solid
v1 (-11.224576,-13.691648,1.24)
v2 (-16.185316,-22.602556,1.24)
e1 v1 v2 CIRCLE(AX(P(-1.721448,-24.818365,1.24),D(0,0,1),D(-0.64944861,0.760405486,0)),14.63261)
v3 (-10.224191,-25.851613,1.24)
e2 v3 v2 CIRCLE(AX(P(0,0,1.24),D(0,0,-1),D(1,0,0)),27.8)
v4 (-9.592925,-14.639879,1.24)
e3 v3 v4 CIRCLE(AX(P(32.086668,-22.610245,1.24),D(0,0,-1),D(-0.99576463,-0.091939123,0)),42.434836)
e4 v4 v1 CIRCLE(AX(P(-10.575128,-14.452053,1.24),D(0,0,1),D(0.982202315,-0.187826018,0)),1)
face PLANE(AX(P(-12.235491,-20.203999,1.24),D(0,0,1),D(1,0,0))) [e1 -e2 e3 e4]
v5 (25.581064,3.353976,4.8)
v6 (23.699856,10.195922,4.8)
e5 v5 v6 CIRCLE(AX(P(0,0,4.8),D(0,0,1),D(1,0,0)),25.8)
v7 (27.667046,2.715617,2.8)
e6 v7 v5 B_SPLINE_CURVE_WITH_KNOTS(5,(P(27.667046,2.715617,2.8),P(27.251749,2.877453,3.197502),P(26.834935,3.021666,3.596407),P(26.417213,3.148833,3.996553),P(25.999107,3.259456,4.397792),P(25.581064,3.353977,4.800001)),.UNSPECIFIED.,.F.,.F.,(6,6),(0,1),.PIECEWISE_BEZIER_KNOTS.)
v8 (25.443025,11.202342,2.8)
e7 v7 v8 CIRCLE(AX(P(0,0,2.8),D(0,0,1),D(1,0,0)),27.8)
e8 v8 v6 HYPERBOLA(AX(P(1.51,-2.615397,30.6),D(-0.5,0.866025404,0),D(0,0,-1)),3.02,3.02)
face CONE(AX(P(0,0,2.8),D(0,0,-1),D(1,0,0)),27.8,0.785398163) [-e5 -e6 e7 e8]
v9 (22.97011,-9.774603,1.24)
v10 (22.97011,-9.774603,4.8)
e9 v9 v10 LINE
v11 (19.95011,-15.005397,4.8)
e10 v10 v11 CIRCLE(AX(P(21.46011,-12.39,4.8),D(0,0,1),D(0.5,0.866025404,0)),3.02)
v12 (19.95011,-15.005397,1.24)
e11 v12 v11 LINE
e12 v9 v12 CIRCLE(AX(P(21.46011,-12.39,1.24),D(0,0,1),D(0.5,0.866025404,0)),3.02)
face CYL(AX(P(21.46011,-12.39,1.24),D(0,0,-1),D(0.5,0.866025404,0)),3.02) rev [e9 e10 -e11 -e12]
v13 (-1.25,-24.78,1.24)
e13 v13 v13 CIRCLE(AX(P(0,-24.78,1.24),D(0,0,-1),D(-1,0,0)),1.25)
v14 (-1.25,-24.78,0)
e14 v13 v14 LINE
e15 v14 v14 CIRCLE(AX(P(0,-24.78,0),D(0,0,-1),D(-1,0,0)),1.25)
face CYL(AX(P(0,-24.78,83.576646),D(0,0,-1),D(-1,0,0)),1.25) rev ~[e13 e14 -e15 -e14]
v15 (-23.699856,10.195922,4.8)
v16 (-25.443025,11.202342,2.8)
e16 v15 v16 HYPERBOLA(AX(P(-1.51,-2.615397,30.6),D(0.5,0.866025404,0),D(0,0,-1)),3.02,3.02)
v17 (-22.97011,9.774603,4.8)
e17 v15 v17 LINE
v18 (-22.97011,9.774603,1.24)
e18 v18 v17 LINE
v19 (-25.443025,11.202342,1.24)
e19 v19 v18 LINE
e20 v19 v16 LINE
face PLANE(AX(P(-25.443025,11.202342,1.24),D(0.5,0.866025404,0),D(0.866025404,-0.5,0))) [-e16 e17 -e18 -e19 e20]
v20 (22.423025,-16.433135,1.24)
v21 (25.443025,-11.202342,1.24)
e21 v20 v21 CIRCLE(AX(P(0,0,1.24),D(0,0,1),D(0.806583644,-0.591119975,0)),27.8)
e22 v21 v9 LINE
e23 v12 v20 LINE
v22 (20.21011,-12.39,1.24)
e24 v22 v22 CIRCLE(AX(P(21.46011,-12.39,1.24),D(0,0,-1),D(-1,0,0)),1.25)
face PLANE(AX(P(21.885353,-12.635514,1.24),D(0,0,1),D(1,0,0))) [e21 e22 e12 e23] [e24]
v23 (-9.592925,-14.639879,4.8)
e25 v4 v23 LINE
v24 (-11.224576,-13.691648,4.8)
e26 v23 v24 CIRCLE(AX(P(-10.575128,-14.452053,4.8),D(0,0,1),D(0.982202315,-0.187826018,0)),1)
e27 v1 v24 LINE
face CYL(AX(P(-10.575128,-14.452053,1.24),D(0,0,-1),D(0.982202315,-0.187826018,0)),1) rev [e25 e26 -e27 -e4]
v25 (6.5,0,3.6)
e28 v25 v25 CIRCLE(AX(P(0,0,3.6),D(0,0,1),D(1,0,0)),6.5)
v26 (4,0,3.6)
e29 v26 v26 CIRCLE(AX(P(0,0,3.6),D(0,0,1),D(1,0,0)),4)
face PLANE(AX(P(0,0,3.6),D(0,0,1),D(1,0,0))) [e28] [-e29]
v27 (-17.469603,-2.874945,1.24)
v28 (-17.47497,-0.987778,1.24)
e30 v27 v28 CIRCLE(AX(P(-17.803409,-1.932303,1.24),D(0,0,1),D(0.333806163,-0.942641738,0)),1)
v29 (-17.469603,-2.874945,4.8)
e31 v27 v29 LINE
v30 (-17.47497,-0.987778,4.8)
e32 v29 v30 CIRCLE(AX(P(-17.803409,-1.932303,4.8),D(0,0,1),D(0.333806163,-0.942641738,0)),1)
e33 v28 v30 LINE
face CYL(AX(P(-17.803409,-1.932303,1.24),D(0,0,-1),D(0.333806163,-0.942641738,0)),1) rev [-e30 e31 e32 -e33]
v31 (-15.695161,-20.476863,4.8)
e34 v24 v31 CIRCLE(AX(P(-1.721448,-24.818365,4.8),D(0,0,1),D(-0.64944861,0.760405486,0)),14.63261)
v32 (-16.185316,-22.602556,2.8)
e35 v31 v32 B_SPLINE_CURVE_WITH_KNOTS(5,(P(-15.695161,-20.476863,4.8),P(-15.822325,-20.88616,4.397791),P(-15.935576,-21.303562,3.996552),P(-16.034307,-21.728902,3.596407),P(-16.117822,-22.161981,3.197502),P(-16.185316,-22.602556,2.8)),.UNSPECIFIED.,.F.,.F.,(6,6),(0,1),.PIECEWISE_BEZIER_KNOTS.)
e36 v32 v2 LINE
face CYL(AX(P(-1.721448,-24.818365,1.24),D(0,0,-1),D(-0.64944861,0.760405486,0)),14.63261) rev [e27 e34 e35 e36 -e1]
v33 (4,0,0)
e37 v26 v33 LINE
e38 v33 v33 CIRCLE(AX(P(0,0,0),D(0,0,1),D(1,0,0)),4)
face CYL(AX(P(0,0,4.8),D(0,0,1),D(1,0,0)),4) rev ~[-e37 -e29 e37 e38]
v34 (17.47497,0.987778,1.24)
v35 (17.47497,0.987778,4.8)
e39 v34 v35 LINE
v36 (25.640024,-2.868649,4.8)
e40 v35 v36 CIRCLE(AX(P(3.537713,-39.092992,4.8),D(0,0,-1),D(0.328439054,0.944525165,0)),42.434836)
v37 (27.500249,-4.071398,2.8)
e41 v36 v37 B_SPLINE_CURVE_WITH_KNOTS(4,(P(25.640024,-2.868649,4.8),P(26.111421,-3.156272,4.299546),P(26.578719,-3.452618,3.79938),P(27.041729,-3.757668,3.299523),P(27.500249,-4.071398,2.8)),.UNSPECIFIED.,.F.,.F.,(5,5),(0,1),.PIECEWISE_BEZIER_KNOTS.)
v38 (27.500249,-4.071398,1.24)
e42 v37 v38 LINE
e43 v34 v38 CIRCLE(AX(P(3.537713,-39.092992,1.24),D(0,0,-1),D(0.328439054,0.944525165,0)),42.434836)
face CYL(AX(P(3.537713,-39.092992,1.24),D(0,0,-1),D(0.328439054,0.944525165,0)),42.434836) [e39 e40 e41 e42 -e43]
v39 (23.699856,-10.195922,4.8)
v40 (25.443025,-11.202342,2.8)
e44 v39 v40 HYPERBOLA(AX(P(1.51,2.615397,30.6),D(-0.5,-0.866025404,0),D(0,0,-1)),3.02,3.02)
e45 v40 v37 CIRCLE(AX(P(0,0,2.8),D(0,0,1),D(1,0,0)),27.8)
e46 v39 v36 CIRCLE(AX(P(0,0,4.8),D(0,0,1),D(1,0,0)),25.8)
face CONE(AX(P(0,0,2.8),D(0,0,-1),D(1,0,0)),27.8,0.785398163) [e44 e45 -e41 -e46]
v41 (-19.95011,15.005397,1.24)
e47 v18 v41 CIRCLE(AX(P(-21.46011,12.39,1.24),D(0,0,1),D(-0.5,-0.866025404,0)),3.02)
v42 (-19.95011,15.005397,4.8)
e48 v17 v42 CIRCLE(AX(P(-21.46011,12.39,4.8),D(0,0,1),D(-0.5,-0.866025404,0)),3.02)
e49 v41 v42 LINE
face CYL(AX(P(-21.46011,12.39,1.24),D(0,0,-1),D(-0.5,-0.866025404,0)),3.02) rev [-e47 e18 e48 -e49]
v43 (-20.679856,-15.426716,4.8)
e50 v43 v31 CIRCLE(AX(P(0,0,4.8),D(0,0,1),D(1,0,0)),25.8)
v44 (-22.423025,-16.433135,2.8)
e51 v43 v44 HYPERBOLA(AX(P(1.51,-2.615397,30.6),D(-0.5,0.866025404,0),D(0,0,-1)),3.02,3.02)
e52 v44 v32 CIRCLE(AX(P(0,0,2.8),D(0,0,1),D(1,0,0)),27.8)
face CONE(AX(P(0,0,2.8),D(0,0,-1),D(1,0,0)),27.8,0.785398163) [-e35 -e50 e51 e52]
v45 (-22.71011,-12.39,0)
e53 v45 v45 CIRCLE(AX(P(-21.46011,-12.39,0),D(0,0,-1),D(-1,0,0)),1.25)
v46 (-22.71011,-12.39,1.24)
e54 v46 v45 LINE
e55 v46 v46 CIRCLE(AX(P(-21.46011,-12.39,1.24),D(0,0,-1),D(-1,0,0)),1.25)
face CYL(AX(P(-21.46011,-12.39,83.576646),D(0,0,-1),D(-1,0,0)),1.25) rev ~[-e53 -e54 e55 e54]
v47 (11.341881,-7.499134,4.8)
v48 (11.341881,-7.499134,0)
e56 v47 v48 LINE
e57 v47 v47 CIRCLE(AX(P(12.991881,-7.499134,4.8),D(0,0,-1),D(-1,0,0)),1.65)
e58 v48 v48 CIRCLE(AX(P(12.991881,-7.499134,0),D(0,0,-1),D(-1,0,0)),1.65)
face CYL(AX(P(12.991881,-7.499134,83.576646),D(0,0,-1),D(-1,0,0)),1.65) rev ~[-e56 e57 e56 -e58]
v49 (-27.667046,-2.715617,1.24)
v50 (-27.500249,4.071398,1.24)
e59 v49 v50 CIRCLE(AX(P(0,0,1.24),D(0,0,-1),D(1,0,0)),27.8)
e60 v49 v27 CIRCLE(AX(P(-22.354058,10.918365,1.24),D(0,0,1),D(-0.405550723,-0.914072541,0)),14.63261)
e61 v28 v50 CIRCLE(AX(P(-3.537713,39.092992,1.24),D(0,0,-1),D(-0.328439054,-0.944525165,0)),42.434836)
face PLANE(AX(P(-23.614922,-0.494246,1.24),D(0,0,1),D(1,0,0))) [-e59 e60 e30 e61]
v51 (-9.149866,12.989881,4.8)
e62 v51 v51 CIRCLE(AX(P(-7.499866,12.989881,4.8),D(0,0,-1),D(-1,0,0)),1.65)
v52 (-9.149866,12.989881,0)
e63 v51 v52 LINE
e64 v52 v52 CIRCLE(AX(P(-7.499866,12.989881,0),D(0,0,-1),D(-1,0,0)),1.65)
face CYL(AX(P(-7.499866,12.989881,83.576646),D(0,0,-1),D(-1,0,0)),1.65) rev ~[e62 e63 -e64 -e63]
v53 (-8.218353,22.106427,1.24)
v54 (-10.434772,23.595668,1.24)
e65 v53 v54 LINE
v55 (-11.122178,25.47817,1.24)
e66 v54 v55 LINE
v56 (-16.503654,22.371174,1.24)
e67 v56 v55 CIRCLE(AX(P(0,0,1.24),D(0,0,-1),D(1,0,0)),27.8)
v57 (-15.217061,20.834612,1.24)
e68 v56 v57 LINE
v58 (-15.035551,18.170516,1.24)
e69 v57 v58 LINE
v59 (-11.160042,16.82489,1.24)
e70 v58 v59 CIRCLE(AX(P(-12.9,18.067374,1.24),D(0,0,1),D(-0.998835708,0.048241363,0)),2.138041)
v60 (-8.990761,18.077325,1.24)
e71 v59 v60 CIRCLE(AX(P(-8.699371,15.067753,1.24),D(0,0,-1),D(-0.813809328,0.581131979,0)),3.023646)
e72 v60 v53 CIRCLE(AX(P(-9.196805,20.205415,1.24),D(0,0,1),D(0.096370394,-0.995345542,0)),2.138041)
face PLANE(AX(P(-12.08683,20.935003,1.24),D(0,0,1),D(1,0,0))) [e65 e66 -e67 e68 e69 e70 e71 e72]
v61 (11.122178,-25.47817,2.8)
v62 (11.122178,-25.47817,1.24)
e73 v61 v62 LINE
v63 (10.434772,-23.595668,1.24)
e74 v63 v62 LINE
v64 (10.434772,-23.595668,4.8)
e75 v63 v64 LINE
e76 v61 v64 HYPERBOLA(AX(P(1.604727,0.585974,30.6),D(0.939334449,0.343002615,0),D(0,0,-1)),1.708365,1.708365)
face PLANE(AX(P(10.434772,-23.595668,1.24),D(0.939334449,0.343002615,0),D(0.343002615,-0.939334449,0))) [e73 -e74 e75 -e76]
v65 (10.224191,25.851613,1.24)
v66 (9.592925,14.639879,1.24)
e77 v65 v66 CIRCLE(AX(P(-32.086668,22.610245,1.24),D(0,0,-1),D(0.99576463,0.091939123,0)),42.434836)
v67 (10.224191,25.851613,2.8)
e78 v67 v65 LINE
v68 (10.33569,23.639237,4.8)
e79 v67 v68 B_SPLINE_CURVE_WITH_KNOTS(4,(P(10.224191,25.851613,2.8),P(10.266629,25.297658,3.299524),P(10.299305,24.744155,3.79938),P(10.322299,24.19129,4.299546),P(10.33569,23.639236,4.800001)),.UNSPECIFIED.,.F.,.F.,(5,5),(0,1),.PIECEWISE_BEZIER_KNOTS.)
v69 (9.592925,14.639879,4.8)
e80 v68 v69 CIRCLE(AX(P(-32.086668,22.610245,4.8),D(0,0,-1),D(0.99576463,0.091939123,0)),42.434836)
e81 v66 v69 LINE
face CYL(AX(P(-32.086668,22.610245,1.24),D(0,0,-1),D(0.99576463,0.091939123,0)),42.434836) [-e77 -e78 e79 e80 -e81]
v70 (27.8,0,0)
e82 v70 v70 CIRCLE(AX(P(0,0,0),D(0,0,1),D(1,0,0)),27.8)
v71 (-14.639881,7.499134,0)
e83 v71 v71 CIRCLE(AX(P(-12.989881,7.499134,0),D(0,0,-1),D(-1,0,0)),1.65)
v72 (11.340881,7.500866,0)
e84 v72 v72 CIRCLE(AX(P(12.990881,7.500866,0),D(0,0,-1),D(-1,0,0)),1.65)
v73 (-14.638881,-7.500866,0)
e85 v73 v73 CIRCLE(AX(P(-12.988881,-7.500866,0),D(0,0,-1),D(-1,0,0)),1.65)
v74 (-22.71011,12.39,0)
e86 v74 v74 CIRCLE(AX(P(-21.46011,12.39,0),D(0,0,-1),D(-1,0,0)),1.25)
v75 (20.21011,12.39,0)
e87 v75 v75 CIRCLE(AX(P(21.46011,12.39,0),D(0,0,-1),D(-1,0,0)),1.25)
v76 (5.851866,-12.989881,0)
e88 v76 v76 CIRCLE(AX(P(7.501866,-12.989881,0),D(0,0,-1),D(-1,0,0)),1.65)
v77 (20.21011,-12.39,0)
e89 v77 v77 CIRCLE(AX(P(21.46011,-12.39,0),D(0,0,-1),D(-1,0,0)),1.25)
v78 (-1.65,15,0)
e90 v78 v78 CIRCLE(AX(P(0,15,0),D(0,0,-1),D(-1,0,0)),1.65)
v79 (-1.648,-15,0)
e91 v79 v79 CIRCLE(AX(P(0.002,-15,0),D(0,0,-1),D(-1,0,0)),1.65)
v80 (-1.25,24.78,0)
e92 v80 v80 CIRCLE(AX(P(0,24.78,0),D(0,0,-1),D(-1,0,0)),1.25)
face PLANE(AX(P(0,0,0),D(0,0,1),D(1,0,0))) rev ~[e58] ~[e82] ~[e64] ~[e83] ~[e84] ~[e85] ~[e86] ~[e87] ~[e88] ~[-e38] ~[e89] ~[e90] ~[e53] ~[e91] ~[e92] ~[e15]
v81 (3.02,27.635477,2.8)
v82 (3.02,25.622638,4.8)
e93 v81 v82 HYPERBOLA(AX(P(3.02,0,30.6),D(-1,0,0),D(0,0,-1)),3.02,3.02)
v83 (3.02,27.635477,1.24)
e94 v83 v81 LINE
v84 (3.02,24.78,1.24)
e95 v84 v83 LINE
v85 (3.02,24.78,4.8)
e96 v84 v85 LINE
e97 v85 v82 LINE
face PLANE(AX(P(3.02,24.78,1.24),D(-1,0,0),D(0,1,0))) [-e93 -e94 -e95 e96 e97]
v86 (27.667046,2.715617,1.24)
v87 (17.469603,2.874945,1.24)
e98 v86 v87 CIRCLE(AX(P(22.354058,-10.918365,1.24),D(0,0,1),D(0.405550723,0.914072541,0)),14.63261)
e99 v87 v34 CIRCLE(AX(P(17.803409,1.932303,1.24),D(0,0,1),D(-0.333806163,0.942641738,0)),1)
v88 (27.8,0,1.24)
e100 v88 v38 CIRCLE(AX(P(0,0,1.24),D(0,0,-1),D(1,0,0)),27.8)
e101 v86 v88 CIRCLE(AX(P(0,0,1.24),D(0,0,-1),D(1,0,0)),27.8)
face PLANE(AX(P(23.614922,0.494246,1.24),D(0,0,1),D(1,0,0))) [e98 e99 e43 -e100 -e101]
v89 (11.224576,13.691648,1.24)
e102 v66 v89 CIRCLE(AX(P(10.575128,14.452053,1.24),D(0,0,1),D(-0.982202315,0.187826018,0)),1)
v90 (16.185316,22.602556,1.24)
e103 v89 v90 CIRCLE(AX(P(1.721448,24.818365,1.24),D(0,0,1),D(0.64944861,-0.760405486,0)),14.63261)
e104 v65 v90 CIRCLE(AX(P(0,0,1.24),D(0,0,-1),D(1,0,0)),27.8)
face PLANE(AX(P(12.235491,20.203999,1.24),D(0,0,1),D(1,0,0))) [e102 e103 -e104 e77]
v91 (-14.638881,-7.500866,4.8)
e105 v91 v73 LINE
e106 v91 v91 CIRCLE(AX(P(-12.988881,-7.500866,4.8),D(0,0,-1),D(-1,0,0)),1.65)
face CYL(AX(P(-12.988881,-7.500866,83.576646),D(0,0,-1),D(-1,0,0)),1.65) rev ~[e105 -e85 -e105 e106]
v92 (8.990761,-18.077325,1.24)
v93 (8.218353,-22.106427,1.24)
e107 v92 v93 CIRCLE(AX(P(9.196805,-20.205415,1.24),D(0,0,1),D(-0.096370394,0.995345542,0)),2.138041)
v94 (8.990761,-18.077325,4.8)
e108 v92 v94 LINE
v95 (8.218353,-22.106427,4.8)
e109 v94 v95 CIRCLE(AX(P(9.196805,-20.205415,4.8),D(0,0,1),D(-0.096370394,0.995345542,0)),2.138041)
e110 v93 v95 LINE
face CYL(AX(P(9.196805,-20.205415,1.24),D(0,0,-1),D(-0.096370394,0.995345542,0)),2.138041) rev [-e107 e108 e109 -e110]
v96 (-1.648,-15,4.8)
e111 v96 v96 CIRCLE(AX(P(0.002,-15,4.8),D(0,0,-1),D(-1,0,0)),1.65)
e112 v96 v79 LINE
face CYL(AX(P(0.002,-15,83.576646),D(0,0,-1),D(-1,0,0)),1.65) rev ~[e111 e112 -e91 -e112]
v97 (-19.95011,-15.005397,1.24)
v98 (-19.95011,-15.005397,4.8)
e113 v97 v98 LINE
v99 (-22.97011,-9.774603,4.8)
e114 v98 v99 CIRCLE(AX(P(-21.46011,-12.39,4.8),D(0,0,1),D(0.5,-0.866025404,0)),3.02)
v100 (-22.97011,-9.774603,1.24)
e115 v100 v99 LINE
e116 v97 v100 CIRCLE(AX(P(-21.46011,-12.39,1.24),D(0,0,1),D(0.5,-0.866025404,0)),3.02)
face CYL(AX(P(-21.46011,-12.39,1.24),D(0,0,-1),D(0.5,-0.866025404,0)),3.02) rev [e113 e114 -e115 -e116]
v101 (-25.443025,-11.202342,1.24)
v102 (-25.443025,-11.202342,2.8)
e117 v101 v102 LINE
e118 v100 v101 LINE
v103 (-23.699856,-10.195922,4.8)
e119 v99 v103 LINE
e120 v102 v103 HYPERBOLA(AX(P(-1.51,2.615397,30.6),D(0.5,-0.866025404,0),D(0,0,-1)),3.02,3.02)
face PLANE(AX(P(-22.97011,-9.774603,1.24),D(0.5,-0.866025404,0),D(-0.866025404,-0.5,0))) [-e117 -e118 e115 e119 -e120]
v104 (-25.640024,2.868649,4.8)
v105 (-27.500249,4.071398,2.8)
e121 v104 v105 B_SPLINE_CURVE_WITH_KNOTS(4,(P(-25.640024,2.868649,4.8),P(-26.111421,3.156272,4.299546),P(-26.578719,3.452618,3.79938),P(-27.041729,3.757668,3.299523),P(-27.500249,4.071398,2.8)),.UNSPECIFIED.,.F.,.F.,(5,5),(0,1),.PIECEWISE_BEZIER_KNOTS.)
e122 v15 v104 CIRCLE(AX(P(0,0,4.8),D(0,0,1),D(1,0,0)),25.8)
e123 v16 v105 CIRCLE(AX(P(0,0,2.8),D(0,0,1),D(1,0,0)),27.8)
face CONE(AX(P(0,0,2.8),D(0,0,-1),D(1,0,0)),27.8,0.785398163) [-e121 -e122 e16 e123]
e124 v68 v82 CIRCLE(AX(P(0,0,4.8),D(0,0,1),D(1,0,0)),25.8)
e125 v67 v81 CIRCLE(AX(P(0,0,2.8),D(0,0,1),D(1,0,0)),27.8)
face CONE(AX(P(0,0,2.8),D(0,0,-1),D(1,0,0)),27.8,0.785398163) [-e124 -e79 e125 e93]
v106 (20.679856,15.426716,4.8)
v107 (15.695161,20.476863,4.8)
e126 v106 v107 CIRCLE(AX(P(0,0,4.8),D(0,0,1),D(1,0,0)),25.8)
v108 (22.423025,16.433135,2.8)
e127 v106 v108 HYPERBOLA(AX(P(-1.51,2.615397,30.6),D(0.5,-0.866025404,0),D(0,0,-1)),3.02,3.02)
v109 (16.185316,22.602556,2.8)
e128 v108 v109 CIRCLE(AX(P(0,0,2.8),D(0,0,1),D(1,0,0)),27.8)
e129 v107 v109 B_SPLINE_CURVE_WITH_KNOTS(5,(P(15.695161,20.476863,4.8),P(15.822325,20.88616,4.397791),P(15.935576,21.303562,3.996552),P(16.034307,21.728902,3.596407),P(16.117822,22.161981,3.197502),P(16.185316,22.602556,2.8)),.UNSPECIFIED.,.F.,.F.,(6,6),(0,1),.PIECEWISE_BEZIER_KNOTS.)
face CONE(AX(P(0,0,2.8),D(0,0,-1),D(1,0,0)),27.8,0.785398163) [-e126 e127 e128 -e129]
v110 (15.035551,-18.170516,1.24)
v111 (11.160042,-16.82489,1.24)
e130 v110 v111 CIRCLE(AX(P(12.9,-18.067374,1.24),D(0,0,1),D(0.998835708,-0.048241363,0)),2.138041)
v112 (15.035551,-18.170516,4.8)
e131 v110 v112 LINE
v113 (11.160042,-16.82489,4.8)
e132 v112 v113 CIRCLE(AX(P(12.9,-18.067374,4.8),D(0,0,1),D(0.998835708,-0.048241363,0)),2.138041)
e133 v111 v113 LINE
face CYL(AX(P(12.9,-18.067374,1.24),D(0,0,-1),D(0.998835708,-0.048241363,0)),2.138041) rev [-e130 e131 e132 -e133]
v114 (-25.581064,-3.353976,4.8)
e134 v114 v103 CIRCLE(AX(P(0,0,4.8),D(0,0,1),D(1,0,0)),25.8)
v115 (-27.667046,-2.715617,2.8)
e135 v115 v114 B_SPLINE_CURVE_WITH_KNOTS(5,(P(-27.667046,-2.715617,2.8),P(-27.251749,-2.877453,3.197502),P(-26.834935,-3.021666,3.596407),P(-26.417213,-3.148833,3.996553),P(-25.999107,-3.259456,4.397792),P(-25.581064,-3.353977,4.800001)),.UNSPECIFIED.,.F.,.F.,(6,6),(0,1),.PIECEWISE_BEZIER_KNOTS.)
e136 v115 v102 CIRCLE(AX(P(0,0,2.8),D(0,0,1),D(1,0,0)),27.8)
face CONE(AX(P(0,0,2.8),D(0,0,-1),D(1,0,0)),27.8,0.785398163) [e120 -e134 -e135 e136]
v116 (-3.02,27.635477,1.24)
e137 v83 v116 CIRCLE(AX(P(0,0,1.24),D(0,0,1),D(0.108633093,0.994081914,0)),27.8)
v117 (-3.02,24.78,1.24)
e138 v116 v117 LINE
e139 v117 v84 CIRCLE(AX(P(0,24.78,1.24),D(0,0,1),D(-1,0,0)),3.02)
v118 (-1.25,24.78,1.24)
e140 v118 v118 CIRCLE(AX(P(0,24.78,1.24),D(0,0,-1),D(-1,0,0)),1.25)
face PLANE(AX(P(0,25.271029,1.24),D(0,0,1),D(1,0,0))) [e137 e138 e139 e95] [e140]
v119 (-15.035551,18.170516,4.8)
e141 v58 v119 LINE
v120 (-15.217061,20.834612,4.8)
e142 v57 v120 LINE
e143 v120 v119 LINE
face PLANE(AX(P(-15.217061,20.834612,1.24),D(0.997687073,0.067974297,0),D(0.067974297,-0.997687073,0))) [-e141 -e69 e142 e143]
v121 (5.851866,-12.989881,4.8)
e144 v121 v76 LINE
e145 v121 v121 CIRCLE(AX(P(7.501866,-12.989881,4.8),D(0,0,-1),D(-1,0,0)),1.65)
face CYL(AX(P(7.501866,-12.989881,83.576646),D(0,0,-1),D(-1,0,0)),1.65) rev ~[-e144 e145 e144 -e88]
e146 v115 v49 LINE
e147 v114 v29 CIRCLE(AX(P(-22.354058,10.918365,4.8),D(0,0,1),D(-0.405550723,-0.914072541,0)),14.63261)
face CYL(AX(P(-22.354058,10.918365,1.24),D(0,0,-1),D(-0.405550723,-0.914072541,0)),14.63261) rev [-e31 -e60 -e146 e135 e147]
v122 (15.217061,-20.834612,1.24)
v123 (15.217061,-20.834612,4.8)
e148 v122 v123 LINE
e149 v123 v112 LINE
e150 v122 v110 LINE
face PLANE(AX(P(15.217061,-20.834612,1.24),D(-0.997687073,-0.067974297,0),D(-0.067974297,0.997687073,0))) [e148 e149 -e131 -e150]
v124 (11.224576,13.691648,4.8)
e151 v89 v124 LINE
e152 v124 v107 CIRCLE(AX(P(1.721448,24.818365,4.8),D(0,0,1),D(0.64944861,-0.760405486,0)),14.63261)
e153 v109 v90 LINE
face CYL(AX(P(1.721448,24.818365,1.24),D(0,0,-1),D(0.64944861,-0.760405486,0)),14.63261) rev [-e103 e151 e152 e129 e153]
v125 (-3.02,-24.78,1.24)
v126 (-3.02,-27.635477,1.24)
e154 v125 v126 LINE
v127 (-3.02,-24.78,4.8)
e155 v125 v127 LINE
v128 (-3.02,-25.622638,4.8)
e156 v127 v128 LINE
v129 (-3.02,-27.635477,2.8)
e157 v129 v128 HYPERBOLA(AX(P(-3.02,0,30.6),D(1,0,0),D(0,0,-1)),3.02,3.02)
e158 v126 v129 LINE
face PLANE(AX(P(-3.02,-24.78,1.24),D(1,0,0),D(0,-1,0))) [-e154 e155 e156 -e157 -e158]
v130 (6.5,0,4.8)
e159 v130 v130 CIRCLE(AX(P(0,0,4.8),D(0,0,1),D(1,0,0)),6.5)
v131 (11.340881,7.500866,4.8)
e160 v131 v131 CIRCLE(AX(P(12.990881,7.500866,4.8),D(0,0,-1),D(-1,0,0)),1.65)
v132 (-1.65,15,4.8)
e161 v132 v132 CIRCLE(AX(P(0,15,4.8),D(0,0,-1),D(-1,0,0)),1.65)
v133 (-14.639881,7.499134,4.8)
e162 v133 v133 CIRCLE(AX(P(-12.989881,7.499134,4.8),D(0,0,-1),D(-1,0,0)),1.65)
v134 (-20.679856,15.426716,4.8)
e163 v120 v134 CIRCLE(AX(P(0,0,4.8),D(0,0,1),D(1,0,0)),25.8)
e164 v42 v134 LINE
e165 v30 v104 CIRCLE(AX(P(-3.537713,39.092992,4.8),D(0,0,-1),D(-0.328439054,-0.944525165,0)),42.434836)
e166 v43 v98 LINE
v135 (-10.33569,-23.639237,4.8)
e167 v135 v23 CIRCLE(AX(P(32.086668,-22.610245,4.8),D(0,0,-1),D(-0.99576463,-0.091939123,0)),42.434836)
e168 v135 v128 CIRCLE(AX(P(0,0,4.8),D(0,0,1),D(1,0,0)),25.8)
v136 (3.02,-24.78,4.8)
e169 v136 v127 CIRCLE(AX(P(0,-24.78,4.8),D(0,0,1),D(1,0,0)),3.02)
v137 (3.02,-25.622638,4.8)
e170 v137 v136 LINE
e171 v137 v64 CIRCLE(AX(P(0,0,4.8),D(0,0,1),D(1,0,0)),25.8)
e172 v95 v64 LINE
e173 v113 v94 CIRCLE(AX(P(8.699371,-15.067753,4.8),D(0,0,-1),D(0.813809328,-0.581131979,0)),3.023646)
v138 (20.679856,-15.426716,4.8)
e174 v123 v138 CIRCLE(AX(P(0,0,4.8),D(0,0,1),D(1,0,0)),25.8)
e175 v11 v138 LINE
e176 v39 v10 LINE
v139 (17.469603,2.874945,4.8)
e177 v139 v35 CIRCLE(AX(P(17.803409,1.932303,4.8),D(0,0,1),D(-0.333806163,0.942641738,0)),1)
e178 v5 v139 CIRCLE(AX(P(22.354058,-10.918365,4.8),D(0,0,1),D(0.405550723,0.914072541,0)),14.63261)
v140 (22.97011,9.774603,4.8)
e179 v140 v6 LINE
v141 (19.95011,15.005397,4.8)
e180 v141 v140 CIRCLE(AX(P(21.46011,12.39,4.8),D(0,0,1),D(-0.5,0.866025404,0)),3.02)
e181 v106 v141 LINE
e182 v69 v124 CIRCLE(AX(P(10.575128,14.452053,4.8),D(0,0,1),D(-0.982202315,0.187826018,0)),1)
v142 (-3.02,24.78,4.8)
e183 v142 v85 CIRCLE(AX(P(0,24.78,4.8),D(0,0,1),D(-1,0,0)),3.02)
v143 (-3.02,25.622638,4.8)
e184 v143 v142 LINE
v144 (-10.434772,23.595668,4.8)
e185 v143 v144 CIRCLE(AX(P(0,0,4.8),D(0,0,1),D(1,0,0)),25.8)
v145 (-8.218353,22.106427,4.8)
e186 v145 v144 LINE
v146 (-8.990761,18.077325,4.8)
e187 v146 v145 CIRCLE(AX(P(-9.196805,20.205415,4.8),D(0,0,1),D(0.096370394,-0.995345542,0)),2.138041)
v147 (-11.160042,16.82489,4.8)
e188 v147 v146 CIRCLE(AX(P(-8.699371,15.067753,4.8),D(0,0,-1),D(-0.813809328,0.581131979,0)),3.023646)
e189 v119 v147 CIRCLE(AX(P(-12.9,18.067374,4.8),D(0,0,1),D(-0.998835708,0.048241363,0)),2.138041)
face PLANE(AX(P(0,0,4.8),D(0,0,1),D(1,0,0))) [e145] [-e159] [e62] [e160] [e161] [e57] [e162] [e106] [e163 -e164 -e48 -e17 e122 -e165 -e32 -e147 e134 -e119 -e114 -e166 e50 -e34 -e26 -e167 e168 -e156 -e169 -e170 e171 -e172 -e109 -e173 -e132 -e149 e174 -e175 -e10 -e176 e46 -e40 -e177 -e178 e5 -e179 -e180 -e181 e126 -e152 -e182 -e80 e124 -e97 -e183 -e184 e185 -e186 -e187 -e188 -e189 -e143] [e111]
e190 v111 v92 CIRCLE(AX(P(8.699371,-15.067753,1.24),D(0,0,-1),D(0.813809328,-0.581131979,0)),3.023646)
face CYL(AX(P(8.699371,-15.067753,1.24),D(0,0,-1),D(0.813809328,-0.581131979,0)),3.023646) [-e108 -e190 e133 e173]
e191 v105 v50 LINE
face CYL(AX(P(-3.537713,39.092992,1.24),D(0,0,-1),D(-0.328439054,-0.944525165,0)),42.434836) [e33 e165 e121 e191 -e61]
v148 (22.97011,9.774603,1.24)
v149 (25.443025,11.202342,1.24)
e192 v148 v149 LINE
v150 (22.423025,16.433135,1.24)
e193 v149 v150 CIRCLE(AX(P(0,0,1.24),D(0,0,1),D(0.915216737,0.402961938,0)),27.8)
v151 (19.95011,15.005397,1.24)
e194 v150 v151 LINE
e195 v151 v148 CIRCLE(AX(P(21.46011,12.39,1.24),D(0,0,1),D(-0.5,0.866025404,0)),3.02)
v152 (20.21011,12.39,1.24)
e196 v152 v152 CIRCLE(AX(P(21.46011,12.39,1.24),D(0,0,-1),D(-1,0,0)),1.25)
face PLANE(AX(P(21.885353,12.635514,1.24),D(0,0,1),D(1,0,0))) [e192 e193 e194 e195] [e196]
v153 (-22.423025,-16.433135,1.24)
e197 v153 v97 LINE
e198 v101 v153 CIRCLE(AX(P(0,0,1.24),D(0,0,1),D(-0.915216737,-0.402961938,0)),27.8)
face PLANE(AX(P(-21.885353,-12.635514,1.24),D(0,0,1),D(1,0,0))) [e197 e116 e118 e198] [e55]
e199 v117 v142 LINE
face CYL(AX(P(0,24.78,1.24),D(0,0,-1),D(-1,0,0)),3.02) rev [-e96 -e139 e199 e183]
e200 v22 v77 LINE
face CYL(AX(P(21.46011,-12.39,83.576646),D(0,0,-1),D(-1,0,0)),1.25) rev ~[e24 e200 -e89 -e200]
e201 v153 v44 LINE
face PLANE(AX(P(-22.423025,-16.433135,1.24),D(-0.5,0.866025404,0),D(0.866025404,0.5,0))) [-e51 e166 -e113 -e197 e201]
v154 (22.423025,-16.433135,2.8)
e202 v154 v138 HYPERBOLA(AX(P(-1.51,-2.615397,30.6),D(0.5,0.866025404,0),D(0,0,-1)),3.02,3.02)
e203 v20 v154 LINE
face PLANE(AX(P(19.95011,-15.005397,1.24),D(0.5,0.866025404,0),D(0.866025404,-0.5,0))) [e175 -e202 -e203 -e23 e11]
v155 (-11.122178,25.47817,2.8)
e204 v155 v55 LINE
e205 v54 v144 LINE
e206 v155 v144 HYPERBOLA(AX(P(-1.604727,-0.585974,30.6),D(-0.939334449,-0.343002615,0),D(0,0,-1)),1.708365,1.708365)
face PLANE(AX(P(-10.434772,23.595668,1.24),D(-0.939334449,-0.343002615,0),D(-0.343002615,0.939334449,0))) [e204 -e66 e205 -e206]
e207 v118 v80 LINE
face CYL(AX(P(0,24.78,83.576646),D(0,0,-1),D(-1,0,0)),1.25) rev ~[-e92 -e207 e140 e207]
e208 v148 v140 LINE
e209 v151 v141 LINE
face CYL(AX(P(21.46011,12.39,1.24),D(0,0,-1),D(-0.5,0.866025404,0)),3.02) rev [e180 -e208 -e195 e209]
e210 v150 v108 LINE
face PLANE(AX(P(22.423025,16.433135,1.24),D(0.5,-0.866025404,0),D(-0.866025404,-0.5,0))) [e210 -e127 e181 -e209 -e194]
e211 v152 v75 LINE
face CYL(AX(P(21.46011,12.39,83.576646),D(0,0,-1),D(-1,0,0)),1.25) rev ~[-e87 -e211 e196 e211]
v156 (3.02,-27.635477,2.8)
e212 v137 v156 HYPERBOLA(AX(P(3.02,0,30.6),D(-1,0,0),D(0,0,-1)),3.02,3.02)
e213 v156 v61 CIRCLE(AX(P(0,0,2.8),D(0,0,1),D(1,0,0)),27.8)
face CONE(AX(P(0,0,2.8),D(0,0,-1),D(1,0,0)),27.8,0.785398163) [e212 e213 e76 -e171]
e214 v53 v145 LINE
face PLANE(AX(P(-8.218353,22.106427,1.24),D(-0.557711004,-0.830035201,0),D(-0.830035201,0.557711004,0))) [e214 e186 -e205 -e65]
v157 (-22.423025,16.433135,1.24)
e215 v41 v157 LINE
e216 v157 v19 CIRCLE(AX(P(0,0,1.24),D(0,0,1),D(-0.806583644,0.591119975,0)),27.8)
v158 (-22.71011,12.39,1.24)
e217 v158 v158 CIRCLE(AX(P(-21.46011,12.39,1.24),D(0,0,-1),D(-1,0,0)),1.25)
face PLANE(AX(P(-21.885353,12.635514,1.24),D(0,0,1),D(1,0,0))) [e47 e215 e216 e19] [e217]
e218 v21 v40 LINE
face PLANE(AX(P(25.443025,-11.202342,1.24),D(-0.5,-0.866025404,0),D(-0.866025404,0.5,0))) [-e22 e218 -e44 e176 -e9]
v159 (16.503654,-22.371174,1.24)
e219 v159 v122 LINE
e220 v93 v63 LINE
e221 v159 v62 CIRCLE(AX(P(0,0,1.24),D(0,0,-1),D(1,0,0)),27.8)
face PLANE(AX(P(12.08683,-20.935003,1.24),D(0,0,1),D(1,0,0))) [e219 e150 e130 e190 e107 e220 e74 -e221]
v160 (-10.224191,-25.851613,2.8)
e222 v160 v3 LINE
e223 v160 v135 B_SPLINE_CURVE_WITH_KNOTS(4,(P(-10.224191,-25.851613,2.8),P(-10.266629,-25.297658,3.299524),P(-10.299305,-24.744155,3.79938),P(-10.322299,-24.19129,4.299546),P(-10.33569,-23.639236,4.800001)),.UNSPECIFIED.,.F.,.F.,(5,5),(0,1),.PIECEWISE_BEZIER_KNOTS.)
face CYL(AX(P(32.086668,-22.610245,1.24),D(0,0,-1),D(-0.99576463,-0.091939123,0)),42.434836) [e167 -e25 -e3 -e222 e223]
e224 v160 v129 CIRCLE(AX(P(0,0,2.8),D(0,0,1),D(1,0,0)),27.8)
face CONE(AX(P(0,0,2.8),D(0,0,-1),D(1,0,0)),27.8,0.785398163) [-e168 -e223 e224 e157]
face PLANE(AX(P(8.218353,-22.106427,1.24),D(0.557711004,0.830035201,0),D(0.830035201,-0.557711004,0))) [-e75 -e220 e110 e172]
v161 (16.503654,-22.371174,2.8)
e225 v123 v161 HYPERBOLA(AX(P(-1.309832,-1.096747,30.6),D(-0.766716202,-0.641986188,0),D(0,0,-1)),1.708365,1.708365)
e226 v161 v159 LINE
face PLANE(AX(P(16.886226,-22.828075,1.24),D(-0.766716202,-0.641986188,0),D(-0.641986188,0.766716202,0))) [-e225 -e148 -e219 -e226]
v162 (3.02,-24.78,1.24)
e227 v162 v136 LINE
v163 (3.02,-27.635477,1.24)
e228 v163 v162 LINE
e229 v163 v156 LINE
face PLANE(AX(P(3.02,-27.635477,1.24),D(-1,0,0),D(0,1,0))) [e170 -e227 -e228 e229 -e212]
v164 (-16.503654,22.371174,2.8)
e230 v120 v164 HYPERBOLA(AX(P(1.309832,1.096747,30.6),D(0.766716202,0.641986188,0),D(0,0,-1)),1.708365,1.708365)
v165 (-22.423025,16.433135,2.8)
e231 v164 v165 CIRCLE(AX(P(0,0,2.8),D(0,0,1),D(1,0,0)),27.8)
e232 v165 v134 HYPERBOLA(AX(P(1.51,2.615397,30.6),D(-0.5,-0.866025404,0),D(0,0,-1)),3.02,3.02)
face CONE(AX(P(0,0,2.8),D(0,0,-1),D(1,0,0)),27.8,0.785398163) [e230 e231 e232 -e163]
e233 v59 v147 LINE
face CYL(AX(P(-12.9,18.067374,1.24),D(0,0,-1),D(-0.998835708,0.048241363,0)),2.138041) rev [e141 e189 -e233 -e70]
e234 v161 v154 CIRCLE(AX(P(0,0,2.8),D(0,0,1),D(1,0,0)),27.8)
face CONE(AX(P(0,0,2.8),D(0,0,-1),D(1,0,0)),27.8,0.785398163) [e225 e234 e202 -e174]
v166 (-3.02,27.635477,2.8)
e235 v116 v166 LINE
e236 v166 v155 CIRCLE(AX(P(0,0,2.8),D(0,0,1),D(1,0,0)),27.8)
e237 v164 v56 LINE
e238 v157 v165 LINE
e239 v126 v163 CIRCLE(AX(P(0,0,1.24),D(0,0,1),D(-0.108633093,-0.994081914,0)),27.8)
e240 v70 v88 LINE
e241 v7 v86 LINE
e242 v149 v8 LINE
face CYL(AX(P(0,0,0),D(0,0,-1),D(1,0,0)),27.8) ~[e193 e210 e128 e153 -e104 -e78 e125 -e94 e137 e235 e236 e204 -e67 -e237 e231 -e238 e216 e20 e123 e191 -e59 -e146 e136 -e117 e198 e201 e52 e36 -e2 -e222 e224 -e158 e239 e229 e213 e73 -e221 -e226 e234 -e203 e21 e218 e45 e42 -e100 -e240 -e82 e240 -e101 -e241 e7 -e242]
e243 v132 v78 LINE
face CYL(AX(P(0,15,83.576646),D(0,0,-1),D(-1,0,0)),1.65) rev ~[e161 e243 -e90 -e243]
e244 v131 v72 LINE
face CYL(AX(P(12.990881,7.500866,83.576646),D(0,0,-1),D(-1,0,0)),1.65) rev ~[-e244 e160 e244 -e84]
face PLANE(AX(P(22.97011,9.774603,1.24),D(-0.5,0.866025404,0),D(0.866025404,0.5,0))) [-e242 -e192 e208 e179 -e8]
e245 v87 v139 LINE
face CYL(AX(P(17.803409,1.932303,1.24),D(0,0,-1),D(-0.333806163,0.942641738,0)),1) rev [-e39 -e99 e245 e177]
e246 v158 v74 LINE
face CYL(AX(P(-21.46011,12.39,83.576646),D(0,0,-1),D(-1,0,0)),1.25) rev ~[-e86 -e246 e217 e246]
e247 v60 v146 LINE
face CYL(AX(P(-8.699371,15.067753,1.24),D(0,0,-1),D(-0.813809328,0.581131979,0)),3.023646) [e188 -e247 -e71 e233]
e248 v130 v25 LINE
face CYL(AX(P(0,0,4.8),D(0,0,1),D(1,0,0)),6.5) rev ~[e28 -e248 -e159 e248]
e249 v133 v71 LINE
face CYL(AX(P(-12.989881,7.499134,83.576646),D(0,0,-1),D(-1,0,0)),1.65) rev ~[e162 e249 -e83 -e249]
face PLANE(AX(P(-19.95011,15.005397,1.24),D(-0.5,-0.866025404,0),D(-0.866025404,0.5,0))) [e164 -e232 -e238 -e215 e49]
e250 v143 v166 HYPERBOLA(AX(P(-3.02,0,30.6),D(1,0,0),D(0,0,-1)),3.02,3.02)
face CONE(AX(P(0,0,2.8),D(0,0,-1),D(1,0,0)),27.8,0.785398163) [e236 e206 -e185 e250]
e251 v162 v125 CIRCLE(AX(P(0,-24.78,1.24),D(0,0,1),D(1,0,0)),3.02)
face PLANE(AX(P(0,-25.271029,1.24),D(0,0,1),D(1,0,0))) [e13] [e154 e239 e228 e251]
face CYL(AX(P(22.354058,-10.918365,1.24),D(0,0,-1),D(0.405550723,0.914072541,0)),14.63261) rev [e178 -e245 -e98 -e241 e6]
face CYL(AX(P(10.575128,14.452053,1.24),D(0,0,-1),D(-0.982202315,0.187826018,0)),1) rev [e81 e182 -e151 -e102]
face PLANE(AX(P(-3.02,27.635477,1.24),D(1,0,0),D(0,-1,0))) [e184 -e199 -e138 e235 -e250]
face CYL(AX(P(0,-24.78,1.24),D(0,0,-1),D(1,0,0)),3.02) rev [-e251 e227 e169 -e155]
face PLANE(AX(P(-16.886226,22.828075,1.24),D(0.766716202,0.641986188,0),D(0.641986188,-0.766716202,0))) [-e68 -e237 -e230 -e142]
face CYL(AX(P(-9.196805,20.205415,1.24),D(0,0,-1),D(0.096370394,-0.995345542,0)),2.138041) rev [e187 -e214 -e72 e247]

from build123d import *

# Parameters (mm, degrees)
SKETCH1_R             = 27.8
BOSS_EXTRUDE1_DEPTH   = 4.8
CHAMFER1_SIZE         = 2
CUT_EXTRUDE1_START    = -3.56
CUT_EXTRUDE1_DEPTH    = 3.56
M4X0_7_TAPPED_HOLE1_D = 3.3
SKETCH7_R             = 4
CUT_EXTRUDE2_DEPTH    = 40.607070076
SKETCH8_R             = 6.5
CUT_EXTRUDE3_DEPTH    = 1.2
M3X0_5_TAPPED_HOLE2_D = 2.5


with BuildPart() as part:
    # Sketch1 → Boss-Extrude1 (new body)
    with BuildSketch(Plane.XY):
        Circle(SKETCH1_R)
    extrude(amount=BOSS_EXTRUDE1_DEPTH)

    # Chamfer1
    chamfer1_edges = [part.edges().sort_by_distance(p)[0] for p in [
        (-27.8, 0, 4.8),
    ]]
    chamfer(chamfer1_edges, length=CHAMFER1_SIZE)

    # Sketch2 → Cut-Extrude1 (cut)
    with BuildSketch(Plane.XY.offset(4.8).offset(CUT_EXTRUDE1_START)):
        with BuildLine():
            Line((-3.02, 27.635477199), (-3.02, 24.78))
            ThreePointArc((-3.02, 24.78), (0, 21.76), (3.02, 24.78))
            Line((3.02, 24.78), (3.02, 27.635477199))
            ThreePointArc((3.02, 27.635477199), (0, 27.8), (-3.02, 27.635477199))
        make_face()
        with BuildLine():
            Line((22.4230253, 16.433135319), (19.950109506, 15.005396719))
            ThreePointArc((19.950109506, 15.005396719), (18.844712786, 10.88), (22.970109506, 9.774603281))
            Line((22.970109506, 9.774603281), (25.4430253, 11.20234188))
            ThreePointArc((25.4430253, 11.20234188), (24.075506225, 13.9), (22.4230253, 16.433135319))
        make_face()
        with BuildLine():
            Line((25.4430253, -11.20234188), (22.970109506, -9.774603281))
            ThreePointArc((22.970109506, -9.774603281), (18.844712786, -10.88), (19.950109506, -15.005396719))
            Line((19.950109506, -15.005396719), (22.4230253, -16.433135319))
            ThreePointArc((22.4230253, -16.433135319), (24.075506225, -13.9), (25.4430253, -11.20234188))
        make_face()
        with BuildLine():
            Line((3.02, -27.635477199), (3.02, -24.78))
            ThreePointArc((3.02, -24.78), (0, -21.76), (-3.02, -24.78))
            Line((-3.02, -24.78), (-3.02, -27.635477199))
            ThreePointArc((-3.02, -27.635477199), (0, -27.8), (3.02, -27.635477199))
        make_face()
        with BuildLine():
            Line((-22.4230253, -16.433135319), (-19.950109506, -15.005396719))
            ThreePointArc((-19.950109506, -15.005396719), (-18.844712786, -10.88), (-22.970109506, -9.774603281))
            Line((-22.970109506, -9.774603281), (-25.4430253, -11.20234188))
            ThreePointArc((-25.4430253, -11.20234188), (-24.075506225, -13.9), (-22.4230253, -16.433135319))
        make_face()
        with BuildLine():
            Line((-25.4430253, 11.20234188), (-22.970109506, 9.774603281))
            ThreePointArc((-22.970109506, 9.774603281), (-18.844712786, 10.88), (-19.950109506, 15.005396719))
            Line((-19.950109506, 15.005396719), (-22.4230253, 16.433135319))
            ThreePointArc((-22.4230253, 16.433135319), (-24.075506225, 13.9), (-25.4430253, 11.20234188))
        make_face()
        with BuildLine():
            ThreePointArc((-8.990760958, 18.077325331), (-7.097001538, 19.802867047), (-8.218352654, 22.106427471))
            Line((-8.218352654, 22.106427471), (-10.434772365, 23.595667519))
            Line((-10.434772365, 23.595667519), (-11.326579695, 26.037938541))
            ThreePointArc((-11.326579695, 26.037938541), (-14.197408663, 24.590633141), (-16.886226391, 22.828075024))
            Line((-16.886226391, 22.828075024), (-15.217061308, 20.834611711))
            Line((-15.217061308, 20.834611711), (-15.035551449, 18.170515911))
            ThreePointArc((-15.035551449, 18.170515911), (-13.601285161, 16.047617146), (-11.16004249, 16.824890055))
            ThreePointArc((-11.16004249, 16.824890055), (-10.211194098, 17.686306984), (-8.990760958, 18.077325331))
        make_face()
        with BuildLine():
            ThreePointArc((8.990760958, -18.077325331), (7.097001538, -19.802867047), (8.218352654, -22.106427471))
            Line((8.218352654, -22.106427471), (10.434772365, -23.595667519))
            Line((10.434772365, -23.595667519), (11.326579695, -26.037938541))
            ThreePointArc((11.326579695, -26.037938541), (14.197408663, -24.590633141), (16.886226391, -22.828075024))
            Line((16.886226391, -22.828075024), (15.217061308, -20.834611711))
            Line((15.217061308, -20.834611711), (15.035551449, -18.170515911))
            ThreePointArc((15.035551449, -18.170515911), (13.601285161, -16.047617146), (11.16004249, -16.824890055))
            ThreePointArc((11.16004249, -16.824890055), (10.211194098, -17.686306984), (8.990760958, -18.077325331))
        make_face()
        with BuildLine():
            ThreePointArc((9.592925481, 14.639879042), (10.072666849, 13.587453118), (11.224576406, 13.691647537))
            ThreePointArc((11.224576406, 13.691647537), (14.666706062, 17.996812228), (16.27190214, 23.26995599))
            ThreePointArc((16.27190214, 23.26995599), (13.319162757, 25.077191918), (10.168440088, 26.511666813))
            ThreePointArc((10.168440088, 26.511666813), (10.298392669, 20.555523396), (9.592925481, 14.639879042))
        make_face()
        with BuildLine():
            ThreePointArc((28.288324102, 2.456902626), (22.919049608, 3.703333926), (17.46960279, 2.874944546))
            ThreePointArc((17.46960279, 2.874944546), (16.803412997, 1.929458816), (17.474969899, 0.987777643))
            ThreePointArc((17.474969899, 0.987777643), (22.950801784, -1.359092028), (28.043997001, -4.449705973))
            ThreePointArc((28.043997001, -4.449705973), (28.377066635, -1.003862654), (28.288324102, 2.456902626))
        make_face()
        with BuildLine():
            ThreePointArc((-28.288324102, -2.456902626), (-22.919049608, -3.703333926), (-17.46960279, -2.874944546))
            ThreePointArc((-17.46960279, -2.874944546), (-16.803412997, -1.929458816), (-17.474969899, -0.987777643))
            ThreePointArc((-17.474969899, -0.987777643), (-22.950801784, 1.359092028), (-28.043997001, 4.449705973))
            ThreePointArc((-28.043997001, 4.449705973), (-28.377066635, 1.003862654), (-28.288324102, -2.456902626))
        make_face()
        with BuildLine():
            ThreePointArc((-10.168440088, -26.511666813), (-10.298392669, -20.555523396), (-9.592925481, -14.639879042))
            ThreePointArc((-9.592925481, -14.639879042), (-10.072666849, -13.587453118), (-11.224576406, -13.691647537))
            ThreePointArc((-11.224576406, -13.691647537), (-14.666706062, -17.996812228), (-16.27190214, -23.26995599))
            ThreePointArc((-16.27190214, -23.26995599), (-13.319162757, -25.077191918), (-10.168440088, -26.511666813))
        make_face()
    extrude(amount=CUT_EXTRUDE1_DEPTH, mode=Mode.SUBTRACT)

    # M4x0.7 Tapped Hole1 (through all)
    with Locations(Plane.XY.offset(4.8)):
        with Locations((0, 15), (12.990881057, 7.500866025), (12.991881057, -7.499133975), (7.501866025, -12.989881057), (0.002, -15), (-12.988881057, -7.500866025), (-12.989881057, 7.499133975), (-7.499866025, 12.989881057)):
            Hole(M4X0_7_TAPPED_HOLE1_D / 2)

    # Sketch7 → Cut-Extrude2 (cut, through all)
    with BuildSketch(Plane.XY.offset(4.8)):
        Circle(SKETCH7_R)
    extrude(amount=-CUT_EXTRUDE2_DEPTH, mode=Mode.SUBTRACT)

    # Sketch8 → Cut-Extrude3 (cut)
    with BuildSketch(Plane.XY.offset(4.8)):
        Circle(SKETCH8_R)
    extrude(amount=-CUT_EXTRUDE3_DEPTH, mode=Mode.SUBTRACT)

    # M3x0.5 Tapped Hole2 (through all)
    with Locations(Plane.XY.offset(4.8)):
        with Locations((0, 24.78), (21.460109506, 12.39), (21.460109506, -12.39), (0, -24.78), (-21.460109506, -12.39), (-21.460109506, 12.39), (0, 0)):
            Hole(M3X0_5_TAPPED_HOLE2_D / 2)


solid = part.part
